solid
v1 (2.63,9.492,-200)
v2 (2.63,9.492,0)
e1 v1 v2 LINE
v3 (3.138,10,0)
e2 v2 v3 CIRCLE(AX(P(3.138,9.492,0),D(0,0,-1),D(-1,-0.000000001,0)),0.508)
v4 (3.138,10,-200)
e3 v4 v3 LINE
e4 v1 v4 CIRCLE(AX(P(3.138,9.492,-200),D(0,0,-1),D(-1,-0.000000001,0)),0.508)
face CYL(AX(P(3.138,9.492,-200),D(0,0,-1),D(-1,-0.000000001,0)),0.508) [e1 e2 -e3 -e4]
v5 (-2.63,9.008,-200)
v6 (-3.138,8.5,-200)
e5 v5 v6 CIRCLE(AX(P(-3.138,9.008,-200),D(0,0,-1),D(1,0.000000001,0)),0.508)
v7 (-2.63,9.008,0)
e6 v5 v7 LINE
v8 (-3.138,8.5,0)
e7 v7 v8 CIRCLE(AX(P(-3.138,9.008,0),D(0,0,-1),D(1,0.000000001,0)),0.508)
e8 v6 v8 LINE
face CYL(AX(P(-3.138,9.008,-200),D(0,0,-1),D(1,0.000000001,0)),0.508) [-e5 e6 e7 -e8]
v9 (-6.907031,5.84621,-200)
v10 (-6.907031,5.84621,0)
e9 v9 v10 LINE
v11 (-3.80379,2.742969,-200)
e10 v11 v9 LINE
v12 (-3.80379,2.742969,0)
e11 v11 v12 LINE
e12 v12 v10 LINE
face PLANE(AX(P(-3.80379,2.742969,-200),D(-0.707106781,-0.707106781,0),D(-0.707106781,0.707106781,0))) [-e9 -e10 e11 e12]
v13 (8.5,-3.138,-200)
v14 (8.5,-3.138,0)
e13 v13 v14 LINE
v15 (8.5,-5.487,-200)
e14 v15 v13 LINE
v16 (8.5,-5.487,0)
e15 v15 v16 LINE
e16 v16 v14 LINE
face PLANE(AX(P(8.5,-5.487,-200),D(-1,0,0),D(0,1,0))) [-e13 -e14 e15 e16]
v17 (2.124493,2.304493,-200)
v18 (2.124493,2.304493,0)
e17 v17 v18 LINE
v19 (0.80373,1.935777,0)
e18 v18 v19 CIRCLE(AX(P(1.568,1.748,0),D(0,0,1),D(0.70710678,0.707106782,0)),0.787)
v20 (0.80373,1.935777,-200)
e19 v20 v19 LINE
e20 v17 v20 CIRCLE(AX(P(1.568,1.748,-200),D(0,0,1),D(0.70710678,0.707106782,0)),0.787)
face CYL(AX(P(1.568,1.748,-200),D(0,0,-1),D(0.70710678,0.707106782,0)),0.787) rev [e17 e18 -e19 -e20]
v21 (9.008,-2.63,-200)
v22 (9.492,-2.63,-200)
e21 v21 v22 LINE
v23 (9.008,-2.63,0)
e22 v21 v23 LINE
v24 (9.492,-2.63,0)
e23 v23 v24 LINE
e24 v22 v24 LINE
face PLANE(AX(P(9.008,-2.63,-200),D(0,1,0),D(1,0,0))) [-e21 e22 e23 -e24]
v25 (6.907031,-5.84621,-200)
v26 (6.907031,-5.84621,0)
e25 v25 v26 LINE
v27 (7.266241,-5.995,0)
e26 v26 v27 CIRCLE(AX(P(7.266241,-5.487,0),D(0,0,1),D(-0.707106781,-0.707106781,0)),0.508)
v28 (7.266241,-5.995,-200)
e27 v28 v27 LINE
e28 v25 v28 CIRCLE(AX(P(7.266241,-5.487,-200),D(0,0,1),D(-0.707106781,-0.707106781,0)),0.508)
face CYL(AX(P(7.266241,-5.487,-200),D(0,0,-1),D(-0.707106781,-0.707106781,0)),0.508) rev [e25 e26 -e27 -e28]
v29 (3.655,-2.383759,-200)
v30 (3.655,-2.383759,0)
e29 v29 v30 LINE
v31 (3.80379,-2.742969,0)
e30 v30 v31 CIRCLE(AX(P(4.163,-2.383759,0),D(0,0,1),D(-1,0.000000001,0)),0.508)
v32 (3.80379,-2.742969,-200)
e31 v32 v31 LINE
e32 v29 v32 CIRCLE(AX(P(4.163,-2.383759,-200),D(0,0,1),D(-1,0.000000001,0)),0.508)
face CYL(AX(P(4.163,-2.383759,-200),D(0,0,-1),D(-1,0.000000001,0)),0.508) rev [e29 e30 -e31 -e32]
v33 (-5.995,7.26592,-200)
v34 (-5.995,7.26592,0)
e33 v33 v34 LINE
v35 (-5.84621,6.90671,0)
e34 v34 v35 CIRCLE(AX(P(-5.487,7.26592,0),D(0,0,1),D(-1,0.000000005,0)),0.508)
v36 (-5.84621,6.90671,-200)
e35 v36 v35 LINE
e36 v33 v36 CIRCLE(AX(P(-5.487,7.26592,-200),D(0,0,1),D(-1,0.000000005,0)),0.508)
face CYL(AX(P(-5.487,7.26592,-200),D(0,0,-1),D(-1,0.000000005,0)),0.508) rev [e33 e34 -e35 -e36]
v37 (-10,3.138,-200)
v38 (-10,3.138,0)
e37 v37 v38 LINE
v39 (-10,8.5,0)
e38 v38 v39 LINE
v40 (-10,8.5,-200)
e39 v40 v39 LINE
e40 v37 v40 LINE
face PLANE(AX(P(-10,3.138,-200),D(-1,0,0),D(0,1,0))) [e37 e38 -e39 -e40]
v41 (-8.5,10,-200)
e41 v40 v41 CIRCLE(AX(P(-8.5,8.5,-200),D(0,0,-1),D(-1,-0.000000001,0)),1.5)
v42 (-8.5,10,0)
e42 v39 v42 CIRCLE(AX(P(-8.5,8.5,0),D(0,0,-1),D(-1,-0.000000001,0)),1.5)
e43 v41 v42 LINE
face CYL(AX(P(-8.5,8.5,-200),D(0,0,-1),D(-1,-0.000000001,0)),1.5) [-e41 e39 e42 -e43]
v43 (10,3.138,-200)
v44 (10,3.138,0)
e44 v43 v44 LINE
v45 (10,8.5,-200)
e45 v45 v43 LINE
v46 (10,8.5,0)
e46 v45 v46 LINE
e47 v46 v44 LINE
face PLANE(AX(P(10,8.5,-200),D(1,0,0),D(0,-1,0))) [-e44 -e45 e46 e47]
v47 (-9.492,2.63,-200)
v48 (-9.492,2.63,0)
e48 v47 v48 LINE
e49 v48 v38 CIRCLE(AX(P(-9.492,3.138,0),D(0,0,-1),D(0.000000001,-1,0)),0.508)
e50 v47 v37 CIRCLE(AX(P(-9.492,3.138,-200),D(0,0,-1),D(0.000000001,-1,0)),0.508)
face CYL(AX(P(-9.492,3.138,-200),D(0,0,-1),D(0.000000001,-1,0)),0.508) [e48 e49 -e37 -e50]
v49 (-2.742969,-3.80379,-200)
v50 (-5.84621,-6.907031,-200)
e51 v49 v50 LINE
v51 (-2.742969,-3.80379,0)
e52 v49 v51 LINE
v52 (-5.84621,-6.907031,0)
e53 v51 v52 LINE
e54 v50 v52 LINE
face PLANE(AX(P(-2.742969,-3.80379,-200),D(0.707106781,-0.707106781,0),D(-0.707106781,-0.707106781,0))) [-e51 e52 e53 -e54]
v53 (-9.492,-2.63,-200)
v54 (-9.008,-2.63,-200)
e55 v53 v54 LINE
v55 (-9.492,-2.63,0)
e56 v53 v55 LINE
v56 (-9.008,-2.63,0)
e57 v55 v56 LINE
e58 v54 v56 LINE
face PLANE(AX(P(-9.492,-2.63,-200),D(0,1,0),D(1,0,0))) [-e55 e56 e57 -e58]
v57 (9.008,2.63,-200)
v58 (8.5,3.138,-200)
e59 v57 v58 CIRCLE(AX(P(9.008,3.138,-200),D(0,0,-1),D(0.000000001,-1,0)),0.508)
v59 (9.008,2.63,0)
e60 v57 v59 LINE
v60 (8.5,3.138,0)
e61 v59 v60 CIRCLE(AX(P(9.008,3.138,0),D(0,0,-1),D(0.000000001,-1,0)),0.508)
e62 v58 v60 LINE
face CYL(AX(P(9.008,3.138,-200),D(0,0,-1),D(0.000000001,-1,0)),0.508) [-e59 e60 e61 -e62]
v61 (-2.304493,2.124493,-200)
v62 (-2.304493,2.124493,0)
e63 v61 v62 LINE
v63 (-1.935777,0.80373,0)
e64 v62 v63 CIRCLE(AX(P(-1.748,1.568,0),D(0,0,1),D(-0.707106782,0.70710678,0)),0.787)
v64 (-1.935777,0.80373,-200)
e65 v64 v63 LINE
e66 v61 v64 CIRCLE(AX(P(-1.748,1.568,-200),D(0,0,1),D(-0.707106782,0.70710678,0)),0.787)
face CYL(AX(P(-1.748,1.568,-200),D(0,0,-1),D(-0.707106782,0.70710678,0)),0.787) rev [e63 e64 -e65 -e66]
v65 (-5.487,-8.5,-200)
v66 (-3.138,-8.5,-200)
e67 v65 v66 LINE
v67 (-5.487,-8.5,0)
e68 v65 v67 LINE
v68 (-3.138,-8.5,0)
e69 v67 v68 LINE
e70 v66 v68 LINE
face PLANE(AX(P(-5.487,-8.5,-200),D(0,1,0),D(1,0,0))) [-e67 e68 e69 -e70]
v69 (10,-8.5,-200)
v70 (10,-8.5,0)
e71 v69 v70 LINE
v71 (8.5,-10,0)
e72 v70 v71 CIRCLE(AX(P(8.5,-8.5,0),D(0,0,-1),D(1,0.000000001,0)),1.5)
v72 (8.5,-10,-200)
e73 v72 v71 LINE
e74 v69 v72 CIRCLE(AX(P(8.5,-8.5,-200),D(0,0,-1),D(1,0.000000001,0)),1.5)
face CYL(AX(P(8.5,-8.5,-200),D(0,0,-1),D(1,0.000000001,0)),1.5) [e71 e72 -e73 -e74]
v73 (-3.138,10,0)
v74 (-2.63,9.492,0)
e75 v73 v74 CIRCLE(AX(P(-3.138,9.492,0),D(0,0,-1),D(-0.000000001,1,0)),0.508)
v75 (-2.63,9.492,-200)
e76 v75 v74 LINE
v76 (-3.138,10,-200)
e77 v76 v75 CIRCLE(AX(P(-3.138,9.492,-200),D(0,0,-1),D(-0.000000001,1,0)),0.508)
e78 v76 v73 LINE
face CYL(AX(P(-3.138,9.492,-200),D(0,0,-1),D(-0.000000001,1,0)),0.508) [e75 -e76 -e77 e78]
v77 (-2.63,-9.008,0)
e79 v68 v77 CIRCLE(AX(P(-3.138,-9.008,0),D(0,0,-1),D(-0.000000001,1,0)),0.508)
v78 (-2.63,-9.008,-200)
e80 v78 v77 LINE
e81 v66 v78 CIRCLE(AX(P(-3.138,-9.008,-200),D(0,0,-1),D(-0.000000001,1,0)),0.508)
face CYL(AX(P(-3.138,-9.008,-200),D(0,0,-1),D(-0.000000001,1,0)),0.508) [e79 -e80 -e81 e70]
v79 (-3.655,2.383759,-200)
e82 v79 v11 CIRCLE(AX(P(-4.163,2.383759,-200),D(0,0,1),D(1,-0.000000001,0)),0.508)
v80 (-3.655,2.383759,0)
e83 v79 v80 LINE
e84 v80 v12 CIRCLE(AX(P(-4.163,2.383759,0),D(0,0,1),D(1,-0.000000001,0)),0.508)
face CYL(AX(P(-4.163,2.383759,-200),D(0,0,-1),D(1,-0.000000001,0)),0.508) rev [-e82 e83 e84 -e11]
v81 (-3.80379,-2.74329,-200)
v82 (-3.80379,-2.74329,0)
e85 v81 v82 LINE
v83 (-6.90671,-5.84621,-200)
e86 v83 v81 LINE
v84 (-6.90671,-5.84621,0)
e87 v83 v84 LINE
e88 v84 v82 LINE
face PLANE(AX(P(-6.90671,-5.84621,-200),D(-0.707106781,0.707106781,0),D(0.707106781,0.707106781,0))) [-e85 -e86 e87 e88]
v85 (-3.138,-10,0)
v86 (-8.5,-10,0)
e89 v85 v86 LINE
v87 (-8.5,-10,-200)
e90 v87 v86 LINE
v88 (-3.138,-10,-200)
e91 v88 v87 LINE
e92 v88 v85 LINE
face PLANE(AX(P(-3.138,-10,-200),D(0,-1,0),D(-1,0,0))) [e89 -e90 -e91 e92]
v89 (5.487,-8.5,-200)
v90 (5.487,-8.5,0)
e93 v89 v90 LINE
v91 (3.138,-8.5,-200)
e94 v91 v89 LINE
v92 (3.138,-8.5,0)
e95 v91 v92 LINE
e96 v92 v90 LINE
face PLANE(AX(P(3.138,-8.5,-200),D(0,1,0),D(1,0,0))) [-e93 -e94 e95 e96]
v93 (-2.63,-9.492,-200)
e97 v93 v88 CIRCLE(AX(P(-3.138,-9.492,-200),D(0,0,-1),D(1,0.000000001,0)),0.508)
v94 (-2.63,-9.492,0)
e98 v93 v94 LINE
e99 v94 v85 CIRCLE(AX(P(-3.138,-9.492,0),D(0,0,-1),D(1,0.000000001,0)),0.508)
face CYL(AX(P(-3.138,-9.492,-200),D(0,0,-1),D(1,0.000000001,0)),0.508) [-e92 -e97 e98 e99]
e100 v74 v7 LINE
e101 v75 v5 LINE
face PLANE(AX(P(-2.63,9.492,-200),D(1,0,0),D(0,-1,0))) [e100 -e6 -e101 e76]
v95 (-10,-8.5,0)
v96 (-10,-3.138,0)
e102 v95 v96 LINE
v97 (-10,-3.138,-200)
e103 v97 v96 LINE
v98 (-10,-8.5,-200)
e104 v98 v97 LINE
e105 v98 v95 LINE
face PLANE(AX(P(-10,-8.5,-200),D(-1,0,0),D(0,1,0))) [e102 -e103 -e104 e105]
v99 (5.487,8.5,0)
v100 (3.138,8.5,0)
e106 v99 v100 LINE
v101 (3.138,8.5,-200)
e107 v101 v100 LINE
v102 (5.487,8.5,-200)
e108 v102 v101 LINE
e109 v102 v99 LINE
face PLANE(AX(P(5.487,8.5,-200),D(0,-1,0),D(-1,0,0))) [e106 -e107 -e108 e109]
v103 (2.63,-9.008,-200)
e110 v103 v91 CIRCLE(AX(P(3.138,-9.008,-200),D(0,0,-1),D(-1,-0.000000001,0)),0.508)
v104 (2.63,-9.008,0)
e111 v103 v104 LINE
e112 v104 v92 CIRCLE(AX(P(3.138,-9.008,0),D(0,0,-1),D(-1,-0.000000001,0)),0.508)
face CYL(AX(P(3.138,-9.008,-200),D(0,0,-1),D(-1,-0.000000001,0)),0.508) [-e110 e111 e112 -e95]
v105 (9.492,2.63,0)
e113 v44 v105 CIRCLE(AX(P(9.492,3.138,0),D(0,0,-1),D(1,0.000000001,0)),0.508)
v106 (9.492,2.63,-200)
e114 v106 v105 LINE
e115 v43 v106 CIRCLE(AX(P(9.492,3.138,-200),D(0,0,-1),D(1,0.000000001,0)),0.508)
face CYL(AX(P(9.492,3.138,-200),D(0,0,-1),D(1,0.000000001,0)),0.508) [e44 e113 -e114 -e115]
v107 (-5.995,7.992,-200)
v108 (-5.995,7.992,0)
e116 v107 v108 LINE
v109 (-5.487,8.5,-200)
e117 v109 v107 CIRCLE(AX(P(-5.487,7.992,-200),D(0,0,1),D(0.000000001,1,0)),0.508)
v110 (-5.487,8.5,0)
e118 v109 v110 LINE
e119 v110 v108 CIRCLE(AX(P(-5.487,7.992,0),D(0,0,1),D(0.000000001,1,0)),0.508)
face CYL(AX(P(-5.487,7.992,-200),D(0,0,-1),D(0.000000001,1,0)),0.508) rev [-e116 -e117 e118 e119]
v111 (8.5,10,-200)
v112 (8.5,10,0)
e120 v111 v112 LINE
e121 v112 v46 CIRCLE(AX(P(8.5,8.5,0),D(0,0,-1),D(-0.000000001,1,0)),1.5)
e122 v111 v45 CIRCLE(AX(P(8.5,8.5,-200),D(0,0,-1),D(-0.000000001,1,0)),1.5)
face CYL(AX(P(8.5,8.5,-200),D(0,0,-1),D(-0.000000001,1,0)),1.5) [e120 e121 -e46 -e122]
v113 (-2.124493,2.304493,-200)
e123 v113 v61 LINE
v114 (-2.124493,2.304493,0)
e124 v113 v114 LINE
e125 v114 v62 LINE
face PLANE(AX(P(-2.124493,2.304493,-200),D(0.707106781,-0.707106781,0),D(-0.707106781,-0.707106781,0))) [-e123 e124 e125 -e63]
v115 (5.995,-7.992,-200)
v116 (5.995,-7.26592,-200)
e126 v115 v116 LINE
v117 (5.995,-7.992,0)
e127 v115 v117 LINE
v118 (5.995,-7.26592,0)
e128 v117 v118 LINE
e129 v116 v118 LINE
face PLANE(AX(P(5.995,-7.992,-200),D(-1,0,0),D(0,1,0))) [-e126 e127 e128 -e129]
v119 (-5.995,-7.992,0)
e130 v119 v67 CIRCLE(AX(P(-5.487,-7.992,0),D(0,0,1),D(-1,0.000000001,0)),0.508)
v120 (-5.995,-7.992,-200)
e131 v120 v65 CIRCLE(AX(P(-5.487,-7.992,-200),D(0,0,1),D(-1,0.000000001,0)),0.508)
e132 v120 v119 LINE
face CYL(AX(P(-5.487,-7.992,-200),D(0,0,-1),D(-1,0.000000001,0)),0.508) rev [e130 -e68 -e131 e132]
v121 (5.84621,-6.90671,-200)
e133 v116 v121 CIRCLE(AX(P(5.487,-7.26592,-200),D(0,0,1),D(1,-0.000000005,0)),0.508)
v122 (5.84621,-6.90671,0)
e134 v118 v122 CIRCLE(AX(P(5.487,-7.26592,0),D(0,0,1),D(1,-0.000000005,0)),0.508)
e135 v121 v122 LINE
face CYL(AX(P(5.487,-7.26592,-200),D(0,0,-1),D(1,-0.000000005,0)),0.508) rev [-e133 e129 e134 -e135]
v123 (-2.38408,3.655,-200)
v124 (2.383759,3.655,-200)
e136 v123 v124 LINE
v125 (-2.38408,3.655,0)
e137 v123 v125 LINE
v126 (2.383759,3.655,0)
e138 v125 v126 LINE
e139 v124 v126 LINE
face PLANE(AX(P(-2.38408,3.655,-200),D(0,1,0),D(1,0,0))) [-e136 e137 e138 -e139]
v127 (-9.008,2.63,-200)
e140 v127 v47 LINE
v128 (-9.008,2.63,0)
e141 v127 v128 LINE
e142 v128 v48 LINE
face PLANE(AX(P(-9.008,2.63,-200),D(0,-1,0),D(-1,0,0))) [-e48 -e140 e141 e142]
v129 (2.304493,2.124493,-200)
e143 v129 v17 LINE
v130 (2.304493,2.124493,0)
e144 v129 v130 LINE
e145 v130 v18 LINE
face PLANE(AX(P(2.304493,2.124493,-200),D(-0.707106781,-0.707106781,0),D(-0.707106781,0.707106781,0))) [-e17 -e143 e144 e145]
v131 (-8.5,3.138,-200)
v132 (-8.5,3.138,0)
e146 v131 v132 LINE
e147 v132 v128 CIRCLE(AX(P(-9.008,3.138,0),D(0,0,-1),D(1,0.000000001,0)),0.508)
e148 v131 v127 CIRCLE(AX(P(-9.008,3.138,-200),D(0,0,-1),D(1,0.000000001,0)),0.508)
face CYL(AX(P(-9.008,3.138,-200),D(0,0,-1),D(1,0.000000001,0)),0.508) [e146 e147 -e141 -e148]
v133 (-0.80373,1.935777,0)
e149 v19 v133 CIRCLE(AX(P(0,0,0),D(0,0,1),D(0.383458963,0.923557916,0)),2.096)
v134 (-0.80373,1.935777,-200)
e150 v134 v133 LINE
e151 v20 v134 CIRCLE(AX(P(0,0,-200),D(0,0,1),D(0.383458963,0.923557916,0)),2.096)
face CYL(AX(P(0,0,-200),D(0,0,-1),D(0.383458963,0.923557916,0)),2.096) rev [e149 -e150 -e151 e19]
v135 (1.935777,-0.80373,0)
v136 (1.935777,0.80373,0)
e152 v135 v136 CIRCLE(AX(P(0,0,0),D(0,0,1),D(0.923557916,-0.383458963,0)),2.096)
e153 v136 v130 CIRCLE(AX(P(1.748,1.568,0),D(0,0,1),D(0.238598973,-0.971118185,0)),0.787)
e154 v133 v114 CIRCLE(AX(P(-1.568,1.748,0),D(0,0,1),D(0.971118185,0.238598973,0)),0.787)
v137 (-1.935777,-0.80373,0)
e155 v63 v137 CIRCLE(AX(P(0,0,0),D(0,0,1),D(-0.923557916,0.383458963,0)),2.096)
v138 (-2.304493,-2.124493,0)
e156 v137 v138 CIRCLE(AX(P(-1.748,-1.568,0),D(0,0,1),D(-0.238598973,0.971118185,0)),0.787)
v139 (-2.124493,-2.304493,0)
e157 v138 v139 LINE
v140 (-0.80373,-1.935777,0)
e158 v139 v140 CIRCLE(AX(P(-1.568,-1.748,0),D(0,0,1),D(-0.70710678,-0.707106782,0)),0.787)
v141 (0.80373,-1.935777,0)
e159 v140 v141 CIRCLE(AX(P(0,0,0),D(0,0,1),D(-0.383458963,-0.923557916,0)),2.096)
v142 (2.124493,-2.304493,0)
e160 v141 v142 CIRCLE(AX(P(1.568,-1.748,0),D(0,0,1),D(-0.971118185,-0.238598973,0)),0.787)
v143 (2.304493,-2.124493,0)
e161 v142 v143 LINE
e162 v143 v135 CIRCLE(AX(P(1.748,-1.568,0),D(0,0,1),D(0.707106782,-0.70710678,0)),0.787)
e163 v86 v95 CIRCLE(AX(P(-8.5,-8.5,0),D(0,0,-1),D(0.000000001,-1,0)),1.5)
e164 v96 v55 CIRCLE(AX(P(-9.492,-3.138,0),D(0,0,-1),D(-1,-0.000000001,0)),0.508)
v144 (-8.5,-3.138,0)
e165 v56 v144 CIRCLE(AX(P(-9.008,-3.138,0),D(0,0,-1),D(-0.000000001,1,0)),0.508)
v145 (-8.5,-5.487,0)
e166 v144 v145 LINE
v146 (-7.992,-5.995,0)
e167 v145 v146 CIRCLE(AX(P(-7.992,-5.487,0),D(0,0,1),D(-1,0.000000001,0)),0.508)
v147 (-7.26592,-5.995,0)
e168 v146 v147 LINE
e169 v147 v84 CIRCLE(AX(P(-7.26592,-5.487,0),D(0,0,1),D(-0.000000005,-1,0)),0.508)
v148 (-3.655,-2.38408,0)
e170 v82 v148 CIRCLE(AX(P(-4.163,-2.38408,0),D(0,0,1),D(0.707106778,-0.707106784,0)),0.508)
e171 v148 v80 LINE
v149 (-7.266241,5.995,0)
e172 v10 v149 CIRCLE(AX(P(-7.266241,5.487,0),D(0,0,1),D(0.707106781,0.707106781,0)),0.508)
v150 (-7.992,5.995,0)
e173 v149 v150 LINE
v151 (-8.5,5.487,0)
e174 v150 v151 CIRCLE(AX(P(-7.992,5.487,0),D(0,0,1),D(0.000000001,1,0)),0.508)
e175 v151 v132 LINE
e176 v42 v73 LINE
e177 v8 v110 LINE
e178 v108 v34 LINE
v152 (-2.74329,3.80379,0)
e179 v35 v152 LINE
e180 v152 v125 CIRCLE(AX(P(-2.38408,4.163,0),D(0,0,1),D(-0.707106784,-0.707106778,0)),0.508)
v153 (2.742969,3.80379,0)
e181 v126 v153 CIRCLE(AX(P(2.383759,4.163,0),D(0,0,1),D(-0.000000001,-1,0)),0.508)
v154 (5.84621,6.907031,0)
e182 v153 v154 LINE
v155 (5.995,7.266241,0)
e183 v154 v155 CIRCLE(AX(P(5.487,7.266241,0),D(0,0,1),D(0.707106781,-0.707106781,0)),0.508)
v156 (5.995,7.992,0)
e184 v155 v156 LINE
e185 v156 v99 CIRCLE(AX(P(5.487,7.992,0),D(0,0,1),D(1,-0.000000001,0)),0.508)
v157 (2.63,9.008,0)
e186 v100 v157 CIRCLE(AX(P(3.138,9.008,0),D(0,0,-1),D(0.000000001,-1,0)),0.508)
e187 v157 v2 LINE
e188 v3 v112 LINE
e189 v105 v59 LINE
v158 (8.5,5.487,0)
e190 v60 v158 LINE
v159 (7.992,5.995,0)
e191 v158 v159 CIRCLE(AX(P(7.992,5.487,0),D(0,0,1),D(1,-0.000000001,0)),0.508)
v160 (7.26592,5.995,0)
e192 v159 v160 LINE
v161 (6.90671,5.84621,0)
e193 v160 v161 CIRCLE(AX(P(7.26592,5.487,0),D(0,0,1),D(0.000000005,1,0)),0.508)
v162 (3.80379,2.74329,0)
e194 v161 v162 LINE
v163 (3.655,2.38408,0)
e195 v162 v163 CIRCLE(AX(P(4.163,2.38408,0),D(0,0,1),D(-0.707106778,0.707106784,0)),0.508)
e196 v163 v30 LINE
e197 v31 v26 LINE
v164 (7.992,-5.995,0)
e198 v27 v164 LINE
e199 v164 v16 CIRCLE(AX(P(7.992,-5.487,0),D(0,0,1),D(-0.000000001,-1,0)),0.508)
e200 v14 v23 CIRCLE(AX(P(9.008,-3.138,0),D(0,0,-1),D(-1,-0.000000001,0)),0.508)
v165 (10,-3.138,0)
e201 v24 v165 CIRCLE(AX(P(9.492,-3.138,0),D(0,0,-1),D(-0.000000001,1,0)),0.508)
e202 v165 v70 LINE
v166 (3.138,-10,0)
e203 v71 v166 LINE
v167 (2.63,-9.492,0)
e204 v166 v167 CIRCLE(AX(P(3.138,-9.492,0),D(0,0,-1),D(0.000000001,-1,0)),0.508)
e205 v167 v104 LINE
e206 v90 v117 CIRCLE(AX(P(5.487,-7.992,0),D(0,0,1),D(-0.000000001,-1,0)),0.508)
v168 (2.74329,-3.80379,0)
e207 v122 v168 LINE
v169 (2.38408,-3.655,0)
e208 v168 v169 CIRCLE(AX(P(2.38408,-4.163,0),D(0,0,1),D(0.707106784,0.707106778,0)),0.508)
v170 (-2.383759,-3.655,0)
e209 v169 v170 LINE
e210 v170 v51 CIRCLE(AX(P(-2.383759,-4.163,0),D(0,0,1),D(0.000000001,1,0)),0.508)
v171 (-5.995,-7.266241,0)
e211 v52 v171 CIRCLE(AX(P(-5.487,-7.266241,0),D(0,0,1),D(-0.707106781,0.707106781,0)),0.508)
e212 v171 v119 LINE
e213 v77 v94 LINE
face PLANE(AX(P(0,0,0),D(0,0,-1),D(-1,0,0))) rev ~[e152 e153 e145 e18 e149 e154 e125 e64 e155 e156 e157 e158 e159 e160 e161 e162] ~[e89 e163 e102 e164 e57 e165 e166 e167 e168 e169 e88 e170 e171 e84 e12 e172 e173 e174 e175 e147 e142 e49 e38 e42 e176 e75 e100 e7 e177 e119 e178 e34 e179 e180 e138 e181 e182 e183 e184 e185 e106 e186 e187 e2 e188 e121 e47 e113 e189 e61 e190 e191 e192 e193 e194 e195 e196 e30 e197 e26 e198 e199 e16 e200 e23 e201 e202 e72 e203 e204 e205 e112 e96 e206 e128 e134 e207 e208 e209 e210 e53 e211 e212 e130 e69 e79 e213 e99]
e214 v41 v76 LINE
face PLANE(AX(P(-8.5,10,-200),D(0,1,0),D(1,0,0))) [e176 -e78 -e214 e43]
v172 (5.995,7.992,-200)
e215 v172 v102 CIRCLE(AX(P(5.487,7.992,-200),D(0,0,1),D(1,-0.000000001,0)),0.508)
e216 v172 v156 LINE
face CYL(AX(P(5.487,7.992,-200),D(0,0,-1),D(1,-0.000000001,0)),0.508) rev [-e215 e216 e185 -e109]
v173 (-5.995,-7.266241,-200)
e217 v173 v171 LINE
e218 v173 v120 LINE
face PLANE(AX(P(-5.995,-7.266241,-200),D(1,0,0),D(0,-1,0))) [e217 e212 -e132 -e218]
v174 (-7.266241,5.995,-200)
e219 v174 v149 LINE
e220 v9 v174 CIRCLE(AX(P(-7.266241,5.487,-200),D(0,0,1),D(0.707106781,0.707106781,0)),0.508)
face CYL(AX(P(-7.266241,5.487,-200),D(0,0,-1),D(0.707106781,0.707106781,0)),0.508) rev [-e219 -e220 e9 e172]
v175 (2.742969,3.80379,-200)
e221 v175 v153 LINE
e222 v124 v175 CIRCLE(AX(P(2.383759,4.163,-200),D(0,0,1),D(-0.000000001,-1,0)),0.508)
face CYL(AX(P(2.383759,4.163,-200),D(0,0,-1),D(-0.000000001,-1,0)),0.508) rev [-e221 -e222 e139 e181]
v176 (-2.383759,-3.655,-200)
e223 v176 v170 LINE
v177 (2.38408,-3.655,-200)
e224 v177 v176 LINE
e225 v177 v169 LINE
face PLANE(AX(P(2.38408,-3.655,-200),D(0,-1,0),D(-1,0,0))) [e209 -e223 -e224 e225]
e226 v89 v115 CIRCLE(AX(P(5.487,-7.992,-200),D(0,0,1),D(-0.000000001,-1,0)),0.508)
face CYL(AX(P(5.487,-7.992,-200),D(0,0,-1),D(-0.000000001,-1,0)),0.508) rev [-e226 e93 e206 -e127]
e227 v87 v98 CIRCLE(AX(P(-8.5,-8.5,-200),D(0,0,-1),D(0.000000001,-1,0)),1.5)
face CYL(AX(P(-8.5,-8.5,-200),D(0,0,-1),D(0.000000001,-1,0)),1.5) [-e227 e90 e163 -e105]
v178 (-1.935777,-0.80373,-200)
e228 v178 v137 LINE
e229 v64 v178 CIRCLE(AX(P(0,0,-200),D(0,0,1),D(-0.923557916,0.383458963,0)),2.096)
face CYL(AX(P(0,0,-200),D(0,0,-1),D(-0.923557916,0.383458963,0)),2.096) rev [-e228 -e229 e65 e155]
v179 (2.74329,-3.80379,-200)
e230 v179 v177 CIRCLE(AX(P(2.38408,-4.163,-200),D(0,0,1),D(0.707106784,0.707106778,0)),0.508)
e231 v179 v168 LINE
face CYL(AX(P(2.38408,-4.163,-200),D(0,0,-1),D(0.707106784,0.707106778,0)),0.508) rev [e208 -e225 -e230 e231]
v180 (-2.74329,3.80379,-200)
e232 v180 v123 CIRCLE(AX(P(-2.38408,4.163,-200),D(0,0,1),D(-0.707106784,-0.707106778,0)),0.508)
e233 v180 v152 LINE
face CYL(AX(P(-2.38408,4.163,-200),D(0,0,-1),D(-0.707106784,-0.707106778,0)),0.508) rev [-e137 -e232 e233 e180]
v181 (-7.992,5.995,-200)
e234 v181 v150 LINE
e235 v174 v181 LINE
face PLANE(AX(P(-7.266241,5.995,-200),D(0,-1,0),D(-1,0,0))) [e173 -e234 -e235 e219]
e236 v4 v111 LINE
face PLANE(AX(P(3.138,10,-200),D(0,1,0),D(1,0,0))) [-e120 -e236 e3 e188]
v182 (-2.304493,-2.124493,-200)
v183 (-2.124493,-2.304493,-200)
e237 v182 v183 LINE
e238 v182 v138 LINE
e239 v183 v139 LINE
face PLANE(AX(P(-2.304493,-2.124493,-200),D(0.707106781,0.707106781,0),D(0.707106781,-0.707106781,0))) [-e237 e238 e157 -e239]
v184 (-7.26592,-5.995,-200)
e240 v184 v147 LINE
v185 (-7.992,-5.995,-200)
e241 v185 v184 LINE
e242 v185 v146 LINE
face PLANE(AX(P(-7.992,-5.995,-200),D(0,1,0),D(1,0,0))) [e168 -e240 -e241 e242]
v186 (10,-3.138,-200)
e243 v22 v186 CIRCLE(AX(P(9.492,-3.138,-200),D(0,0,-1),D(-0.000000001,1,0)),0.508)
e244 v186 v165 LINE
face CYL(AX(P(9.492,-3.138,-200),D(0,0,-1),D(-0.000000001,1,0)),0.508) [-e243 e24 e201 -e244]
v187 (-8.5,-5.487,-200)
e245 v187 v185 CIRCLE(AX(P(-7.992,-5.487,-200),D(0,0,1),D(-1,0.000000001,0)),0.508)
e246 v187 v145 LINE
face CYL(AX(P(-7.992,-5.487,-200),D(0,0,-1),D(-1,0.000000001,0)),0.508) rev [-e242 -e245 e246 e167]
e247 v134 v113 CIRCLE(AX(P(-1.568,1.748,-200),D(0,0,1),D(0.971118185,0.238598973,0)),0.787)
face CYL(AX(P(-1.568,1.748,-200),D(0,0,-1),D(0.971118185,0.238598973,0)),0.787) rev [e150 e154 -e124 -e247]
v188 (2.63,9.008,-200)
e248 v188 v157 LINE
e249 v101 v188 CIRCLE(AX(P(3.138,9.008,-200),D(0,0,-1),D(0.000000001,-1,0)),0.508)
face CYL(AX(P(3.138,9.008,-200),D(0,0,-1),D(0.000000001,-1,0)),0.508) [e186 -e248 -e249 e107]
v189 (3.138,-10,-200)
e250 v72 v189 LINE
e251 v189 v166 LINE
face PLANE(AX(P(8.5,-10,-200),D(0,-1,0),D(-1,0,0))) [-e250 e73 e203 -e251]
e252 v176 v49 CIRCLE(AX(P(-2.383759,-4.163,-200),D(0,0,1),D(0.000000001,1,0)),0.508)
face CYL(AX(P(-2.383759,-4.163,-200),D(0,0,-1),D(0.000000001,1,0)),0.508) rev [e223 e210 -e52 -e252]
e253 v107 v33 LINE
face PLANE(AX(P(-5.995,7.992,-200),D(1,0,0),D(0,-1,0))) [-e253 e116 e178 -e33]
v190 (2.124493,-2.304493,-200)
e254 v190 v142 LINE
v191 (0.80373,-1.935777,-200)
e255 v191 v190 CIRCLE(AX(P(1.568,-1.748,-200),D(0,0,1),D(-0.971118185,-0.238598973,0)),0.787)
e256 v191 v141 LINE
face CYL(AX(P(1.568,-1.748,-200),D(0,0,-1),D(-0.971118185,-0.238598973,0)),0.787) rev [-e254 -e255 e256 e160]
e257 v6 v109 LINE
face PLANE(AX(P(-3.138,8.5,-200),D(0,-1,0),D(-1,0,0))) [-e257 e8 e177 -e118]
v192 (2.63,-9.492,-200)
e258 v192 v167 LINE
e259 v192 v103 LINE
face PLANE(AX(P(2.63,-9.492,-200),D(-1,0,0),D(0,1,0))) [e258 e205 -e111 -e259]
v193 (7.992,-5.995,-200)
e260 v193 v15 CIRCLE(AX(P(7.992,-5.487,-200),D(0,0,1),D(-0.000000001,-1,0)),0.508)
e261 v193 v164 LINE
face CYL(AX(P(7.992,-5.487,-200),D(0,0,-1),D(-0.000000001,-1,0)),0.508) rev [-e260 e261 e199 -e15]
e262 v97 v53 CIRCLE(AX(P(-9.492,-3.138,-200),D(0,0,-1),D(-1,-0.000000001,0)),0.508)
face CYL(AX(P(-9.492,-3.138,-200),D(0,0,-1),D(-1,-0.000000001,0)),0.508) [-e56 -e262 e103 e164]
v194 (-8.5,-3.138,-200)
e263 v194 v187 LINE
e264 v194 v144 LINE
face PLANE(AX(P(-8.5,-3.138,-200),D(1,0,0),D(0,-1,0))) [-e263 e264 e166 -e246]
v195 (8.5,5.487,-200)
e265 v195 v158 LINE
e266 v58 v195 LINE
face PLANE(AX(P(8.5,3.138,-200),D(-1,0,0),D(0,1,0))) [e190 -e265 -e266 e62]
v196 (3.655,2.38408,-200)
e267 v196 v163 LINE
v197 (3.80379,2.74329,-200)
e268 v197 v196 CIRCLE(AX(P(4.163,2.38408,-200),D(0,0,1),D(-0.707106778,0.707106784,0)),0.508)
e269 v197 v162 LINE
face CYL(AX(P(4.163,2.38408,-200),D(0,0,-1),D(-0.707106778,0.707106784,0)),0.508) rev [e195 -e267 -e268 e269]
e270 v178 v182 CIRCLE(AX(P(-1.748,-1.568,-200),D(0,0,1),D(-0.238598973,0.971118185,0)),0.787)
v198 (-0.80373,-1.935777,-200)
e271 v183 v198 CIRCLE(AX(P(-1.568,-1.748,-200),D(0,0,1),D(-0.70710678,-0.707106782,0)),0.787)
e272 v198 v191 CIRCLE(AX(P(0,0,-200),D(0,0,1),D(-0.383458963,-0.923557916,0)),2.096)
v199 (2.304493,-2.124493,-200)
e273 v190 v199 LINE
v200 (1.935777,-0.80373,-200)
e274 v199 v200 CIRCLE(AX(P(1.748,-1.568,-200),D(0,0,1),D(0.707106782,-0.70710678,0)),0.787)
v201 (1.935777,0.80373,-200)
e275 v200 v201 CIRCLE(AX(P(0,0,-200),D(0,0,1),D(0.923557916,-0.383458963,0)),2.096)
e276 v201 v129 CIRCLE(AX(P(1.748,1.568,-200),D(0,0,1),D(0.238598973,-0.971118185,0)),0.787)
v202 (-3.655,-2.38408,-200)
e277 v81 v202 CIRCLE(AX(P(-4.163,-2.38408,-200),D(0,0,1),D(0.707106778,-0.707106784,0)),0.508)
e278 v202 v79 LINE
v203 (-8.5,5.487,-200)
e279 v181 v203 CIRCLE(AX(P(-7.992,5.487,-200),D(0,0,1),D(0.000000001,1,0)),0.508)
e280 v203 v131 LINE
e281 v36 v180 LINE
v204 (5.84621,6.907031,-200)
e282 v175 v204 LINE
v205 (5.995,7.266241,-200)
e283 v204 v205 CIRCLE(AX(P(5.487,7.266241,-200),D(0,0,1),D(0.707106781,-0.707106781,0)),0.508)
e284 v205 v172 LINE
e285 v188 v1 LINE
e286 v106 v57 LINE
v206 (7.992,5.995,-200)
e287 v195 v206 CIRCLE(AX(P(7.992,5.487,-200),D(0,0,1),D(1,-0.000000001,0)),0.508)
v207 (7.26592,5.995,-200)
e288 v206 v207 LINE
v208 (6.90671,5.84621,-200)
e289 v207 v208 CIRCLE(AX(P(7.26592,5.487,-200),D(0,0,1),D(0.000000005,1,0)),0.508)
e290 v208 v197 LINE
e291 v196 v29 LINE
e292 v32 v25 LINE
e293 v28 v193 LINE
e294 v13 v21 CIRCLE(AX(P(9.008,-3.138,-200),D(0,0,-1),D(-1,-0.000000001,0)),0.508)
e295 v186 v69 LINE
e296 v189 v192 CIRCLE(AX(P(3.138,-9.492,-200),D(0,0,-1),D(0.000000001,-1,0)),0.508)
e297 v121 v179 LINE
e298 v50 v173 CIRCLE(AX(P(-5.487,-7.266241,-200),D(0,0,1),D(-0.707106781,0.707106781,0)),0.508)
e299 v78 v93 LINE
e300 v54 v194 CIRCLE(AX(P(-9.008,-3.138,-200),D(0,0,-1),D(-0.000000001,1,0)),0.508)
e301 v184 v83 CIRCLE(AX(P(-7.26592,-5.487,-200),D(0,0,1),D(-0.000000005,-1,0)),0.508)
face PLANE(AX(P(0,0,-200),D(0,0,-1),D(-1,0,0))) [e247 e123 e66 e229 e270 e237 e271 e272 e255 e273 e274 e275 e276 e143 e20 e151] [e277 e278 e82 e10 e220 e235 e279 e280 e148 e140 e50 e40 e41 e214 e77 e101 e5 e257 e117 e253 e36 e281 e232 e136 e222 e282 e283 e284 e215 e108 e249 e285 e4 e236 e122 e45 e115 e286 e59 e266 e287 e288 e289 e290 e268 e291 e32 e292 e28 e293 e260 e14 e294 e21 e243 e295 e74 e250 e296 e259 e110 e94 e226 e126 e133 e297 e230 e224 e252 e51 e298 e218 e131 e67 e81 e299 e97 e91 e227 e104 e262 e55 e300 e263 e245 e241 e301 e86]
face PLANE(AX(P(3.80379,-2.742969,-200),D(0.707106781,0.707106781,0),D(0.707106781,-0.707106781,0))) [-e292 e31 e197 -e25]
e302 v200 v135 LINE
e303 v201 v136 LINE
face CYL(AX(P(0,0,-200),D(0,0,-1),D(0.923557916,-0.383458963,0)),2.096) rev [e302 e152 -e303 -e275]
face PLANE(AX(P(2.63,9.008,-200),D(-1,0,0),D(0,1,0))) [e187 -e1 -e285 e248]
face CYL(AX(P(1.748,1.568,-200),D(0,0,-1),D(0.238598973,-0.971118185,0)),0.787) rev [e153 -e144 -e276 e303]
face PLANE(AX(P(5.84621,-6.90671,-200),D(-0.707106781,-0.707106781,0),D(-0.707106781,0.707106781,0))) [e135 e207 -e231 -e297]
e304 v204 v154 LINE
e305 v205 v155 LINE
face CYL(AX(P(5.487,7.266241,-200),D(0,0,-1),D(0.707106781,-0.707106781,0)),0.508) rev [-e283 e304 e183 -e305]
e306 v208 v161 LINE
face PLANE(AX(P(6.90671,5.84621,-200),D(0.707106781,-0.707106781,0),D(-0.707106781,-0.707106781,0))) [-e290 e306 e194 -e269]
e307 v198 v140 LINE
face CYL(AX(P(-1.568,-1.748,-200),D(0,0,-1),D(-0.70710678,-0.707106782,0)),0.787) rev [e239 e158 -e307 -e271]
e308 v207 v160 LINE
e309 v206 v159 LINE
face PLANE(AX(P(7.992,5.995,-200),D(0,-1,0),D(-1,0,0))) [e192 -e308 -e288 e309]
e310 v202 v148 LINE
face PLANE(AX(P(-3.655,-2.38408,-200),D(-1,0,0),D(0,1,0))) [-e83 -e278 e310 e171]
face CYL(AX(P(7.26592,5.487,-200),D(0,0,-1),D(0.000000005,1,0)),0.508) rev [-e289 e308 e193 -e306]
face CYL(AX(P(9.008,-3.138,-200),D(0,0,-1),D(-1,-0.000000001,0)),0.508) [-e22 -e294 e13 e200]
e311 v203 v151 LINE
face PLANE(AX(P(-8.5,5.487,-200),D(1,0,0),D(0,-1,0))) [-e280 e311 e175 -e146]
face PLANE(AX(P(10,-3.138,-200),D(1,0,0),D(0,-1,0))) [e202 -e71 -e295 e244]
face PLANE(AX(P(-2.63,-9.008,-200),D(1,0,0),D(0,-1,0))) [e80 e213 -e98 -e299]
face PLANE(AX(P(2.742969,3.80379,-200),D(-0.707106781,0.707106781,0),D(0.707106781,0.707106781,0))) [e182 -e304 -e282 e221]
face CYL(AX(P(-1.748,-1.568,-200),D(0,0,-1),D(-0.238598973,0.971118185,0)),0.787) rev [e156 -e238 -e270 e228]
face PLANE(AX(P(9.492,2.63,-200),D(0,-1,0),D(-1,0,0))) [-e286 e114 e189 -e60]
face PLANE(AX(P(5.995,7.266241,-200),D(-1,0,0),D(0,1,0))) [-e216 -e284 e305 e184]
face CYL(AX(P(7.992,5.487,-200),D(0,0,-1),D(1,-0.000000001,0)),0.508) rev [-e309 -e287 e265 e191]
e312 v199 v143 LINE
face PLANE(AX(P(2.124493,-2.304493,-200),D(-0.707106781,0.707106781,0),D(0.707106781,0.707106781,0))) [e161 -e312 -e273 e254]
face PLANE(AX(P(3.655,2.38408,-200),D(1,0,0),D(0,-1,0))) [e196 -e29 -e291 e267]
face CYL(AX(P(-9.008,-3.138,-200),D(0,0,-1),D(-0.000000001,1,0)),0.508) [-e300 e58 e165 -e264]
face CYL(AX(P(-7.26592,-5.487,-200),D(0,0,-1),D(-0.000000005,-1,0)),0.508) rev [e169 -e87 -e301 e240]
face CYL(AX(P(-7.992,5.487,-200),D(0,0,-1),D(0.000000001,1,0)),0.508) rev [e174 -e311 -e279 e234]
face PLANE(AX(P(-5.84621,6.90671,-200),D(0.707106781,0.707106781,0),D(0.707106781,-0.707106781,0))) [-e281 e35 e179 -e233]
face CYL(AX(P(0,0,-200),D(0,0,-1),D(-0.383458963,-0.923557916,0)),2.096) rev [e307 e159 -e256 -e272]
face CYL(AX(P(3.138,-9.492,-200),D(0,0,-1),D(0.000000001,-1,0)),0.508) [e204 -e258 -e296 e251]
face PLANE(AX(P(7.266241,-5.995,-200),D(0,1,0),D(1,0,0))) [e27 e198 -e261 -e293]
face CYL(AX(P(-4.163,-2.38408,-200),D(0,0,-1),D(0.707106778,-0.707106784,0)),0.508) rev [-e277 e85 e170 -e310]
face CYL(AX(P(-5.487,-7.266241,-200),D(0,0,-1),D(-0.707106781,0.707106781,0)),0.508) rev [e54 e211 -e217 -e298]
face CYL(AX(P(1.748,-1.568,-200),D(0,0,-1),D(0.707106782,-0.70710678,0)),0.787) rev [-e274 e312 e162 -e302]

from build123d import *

# Parameters (mm, degrees)
BOSS_EXTRUDE1_DEPTH = 200


with BuildPart() as part:
    # Sketch1 → Boss-Extrude1 (new body)
    with BuildSketch(Plane(origin=(0, 0, -200), x_dir=(-1, 0, 0), z_dir=(0, 0, -1))):
        with BuildLine():
            Line((10, -8.5), (10, -3.138))
            ThreePointArc((10, -3.138), (9.851210245, -2.778789755), (9.492, -2.63))
            Line((9.492, -2.63), (9.008, -2.63))
            ThreePointArc((9.008, -2.63), (8.648789755, -2.778789755), (8.5, -3.138))
            Line((8.5, -3.138), (8.5, -5.487))
            ThreePointArc((8.5, -5.487), (8.351210245, -5.846210245), (7.992, -5.995))
            Line((7.992, -5.995), (7.26592049, -5.995))
            ThreePointArc((7.26592049, -5.995), (7.071517306, -5.956330803), (6.906710245, -5.846210245))
            Line((6.906710245, -5.846210245), (3.803789755, -2.743289755))
            ThreePointArc((3.803789755, -2.743289755), (3.693669197, -2.578482694), (3.655, -2.38407951))
            Line((3.655, -2.38407951), (3.655, 2.383759167))
            ThreePointArc((3.655, 2.383759167), (3.693669197, 2.57816235), (3.803789755, 2.742969412))
            Line((3.803789755, 2.742969412), (6.907030588, 5.846210245))
            ThreePointArc((6.907030588, 5.846210245), (7.07183765, 5.956330803), (7.266240833, 5.995))
            Line((7.266240833, 5.995), (7.992, 5.995))
            ThreePointArc((7.992, 5.995), (8.351210245, 5.846210245), (8.5, 5.487))
            Line((8.5, 5.487), (8.5, 3.138))
            ThreePointArc((8.5, 3.138), (8.648789755, 2.778789755), (9.008, 2.63))
            Line((9.008, 2.63), (9.492, 2.63))
            ThreePointArc((9.492, 2.63), (9.851210245, 2.778789755), (10, 3.138))
            Line((10, 3.138), (10, 8.5))
            ThreePointArc((10, 8.5), (9.560660172, 9.560660172), (8.5, 10))
            Line((8.5, 10), (3.138, 10))
            ThreePointArc((3.138, 10), (2.778789755, 9.851210245), (2.63, 9.492))
            Line((2.63, 9.492), (2.63, 9.008))
            ThreePointArc((2.63, 9.008), (2.778789755, 8.648789755), (3.138, 8.5))
            Line((3.138, 8.5), (5.487, 8.5))
            ThreePointArc((5.487, 8.5), (5.846210245, 8.351210245), (5.995, 7.992))
            Line((5.995, 7.992), (5.995, 7.26592049))
            ThreePointArc((5.995, 7.26592049), (5.956330803, 7.071517306), (5.846210245, 6.906710245))
            Line((5.846210245, 6.906710245), (2.743289755, 3.803789755))
            ThreePointArc((2.743289755, 3.803789755), (2.578482694, 3.693669197), (2.38407951, 3.655))
            Line((2.38407951, 3.655), (-2.383759167, 3.655))
            ThreePointArc((-2.383759167, 3.655), (-2.57816235, 3.693669197), (-2.742969412, 3.803789755))
            Line((-2.742969412, 3.803789755), (-5.846210245, 6.907030588))
            ThreePointArc((-5.846210245, 6.907030588), (-5.956330803, 7.07183765), (-5.995, 7.266240833))
            Line((-5.995, 7.266240833), (-5.995, 7.992))
            ThreePointArc((-5.995, 7.992), (-5.846210245, 8.351210245), (-5.487, 8.5))
            Line((-5.487, 8.5), (-3.138, 8.5))
            ThreePointArc((-3.138, 8.5), (-2.778789755, 8.648789755), (-2.63, 9.008))
            Line((-2.63, 9.008), (-2.63, 9.492))
            ThreePointArc((-2.63, 9.492), (-2.778789755, 9.851210245), (-3.138, 10))
            Line((-3.138, 10), (-8.5, 10))
            ThreePointArc((-8.5, 10), (-9.560660172, 9.560660172), (-10, 8.5))
            Line((-10, 8.5), (-10, 3.138))
            ThreePointArc((-10, 3.138), (-9.851210245, 2.778789755), (-9.492, 2.63))
            Line((-9.492, 2.63), (-9.008, 2.63))
            ThreePointArc((-9.008, 2.63), (-8.648789755, 2.778789755), (-8.5, 3.138))
            Line((-8.5, 3.138), (-8.5, 5.487))
            ThreePointArc((-8.5, 5.487), (-8.351210245, 5.846210245), (-7.992, 5.995))
            Line((-7.992, 5.995), (-7.26592049, 5.995))
            ThreePointArc((-7.26592049, 5.995), (-7.071517306, 5.956330803), (-6.906710245, 5.846210245))
            Line((-6.906710245, 5.846210245), (-3.803789755, 2.743289755))
            ThreePointArc((-3.803789755, 2.743289755), (-3.693669197, 2.578482694), (-3.655, 2.38407951))
            Line((-3.655, 2.38407951), (-3.655, -2.383759167))
            ThreePointArc((-3.655, -2.383759167), (-3.693669197, -2.57816235), (-3.803789755, -2.742969412))
            Line((-3.803789755, -2.742969412), (-6.907030588, -5.846210245))
            ThreePointArc((-6.907030588, -5.846210245), (-7.07183765, -5.956330803), (-7.266240833, -5.995))
            Line((-7.266240833, -5.995), (-7.992, -5.995))
            ThreePointArc((-7.992, -5.995), (-8.351210245, -5.846210245), (-8.5, -5.487))
            Line((-8.5, -5.487), (-8.5, -3.138))
            ThreePointArc((-8.5, -3.138), (-8.648789755, -2.778789755), (-9.008, -2.63))
            Line((-9.008, -2.63), (-9.492, -2.63))
            ThreePointArc((-9.492, -2.63), (-9.851210245, -2.778789755), (-10, -3.138))
            Line((-10, -3.138), (-10, -8.5))
            ThreePointArc((-10, -8.5), (-9.560660172, -9.560660172), (-8.5, -10))
            Line((-8.5, -10), (-3.138, -10))
            ThreePointArc((-3.138, -10), (-2.778789755, -9.851210245), (-2.63, -9.492))
            Line((-2.63, -9.492), (-2.63, -9.008))
            ThreePointArc((-2.63, -9.008), (-2.778789755, -8.648789755), (-3.138, -8.5))
            Line((-3.138, -8.5), (-5.487, -8.5))
            ThreePointArc((-5.487, -8.5), (-5.846210245, -8.351210245), (-5.995, -7.992))
            Line((-5.995, -7.992), (-5.995, -7.26592049))
            ThreePointArc((-5.995, -7.26592049), (-5.956330803, -7.071517306), (-5.846210245, -6.906710245))
            Line((-5.846210245, -6.906710245), (-2.743289755, -3.803789755))
            ThreePointArc((-2.743289755, -3.803789755), (-2.578482694, -3.693669197), (-2.38407951, -3.655))
            Line((-2.38407951, -3.655), (2.383759167, -3.655))
            ThreePointArc((2.383759167, -3.655), (2.57816235, -3.693669197), (2.742969412, -3.803789755))
            Line((2.742969412, -3.803789755), (5.846210245, -6.907030588))
            ThreePointArc((5.846210245, -6.907030588), (5.956330803, -7.07183765), (5.995, -7.266240833))
            Line((5.995, -7.266240833), (5.995, -7.992))
            ThreePointArc((5.995, -7.992), (5.846210245, -8.351210245), (5.487, -8.5))
            Line((5.487, -8.5), (3.138, -8.5))
            ThreePointArc((3.138, -8.5), (2.778789755, -8.648789755), (2.63, -9.008))
            Line((2.63, -9.008), (2.63, -9.492))
            ThreePointArc((2.63, -9.492), (2.778789755, -9.851210245), (3.138, -10))
            Line((3.138, -10), (8.5, -10))
            ThreePointArc((8.5, -10), (9.560660172, -9.560660172), (10, -8.5))
        make_face()
        with BuildLine():
            Line((2.304493037, -2.124493037), (2.124493037, -2.304493037))
            ThreePointArc((2.124493037, -2.304493037), (1.35638567, -2.506016078), (0.803729988, -1.935777391))
            ThreePointArc((0.803729988, -1.935777391), (0, -2.096), (-0.803729988, -1.935777391))
            ThreePointArc((-0.803729988, -1.935777391), (-1.35638567, -2.506016078), (-2.124493037, -2.304493037))
            Line((-2.124493037, -2.304493037), (-2.304493037, -2.124493037))
            ThreePointArc((-2.304493037, -2.124493037), (-2.506016078, -1.35638567), (-1.935777391, -0.803729988))
            ThreePointArc((-1.935777391, -0.803729988), (-2.096, 0), (-1.935777391, 0.803729988))
            ThreePointArc((-1.935777391, 0.803729988), (-2.506016078, 1.35638567), (-2.304493037, 2.124493037))
            Line((-2.304493037, 2.124493037), (-2.124493037, 2.304493037))
            ThreePointArc((-2.124493037, 2.304493037), (-1.35638567, 2.506016078), (-0.803729988, 1.935777391))
            ThreePointArc((-0.803729988, 1.935777391), (0, 2.096), (0.803729988, 1.935777391))
            ThreePointArc((0.803729988, 1.935777391), (1.35638567, 2.506016078), (2.124493037, 2.304493037))
            Line((2.124493037, 2.304493037), (2.304493037, 2.124493037))
            ThreePointArc((2.304493037, 2.124493037), (2.506016078, 1.35638567), (1.935777391, 0.803729988))
            ThreePointArc((1.935777391, 0.803729988), (2.096, 0), (1.935777391, -0.803729988))
            ThreePointArc((1.935777391, -0.803729988), (2.506016078, -1.35638567), (2.304493037, -2.124493037))
        make_face(mode=Mode.SUBTRACT)
    extrude(amount=-BOSS_EXTRUDE1_DEPTH)


solid = part.part
